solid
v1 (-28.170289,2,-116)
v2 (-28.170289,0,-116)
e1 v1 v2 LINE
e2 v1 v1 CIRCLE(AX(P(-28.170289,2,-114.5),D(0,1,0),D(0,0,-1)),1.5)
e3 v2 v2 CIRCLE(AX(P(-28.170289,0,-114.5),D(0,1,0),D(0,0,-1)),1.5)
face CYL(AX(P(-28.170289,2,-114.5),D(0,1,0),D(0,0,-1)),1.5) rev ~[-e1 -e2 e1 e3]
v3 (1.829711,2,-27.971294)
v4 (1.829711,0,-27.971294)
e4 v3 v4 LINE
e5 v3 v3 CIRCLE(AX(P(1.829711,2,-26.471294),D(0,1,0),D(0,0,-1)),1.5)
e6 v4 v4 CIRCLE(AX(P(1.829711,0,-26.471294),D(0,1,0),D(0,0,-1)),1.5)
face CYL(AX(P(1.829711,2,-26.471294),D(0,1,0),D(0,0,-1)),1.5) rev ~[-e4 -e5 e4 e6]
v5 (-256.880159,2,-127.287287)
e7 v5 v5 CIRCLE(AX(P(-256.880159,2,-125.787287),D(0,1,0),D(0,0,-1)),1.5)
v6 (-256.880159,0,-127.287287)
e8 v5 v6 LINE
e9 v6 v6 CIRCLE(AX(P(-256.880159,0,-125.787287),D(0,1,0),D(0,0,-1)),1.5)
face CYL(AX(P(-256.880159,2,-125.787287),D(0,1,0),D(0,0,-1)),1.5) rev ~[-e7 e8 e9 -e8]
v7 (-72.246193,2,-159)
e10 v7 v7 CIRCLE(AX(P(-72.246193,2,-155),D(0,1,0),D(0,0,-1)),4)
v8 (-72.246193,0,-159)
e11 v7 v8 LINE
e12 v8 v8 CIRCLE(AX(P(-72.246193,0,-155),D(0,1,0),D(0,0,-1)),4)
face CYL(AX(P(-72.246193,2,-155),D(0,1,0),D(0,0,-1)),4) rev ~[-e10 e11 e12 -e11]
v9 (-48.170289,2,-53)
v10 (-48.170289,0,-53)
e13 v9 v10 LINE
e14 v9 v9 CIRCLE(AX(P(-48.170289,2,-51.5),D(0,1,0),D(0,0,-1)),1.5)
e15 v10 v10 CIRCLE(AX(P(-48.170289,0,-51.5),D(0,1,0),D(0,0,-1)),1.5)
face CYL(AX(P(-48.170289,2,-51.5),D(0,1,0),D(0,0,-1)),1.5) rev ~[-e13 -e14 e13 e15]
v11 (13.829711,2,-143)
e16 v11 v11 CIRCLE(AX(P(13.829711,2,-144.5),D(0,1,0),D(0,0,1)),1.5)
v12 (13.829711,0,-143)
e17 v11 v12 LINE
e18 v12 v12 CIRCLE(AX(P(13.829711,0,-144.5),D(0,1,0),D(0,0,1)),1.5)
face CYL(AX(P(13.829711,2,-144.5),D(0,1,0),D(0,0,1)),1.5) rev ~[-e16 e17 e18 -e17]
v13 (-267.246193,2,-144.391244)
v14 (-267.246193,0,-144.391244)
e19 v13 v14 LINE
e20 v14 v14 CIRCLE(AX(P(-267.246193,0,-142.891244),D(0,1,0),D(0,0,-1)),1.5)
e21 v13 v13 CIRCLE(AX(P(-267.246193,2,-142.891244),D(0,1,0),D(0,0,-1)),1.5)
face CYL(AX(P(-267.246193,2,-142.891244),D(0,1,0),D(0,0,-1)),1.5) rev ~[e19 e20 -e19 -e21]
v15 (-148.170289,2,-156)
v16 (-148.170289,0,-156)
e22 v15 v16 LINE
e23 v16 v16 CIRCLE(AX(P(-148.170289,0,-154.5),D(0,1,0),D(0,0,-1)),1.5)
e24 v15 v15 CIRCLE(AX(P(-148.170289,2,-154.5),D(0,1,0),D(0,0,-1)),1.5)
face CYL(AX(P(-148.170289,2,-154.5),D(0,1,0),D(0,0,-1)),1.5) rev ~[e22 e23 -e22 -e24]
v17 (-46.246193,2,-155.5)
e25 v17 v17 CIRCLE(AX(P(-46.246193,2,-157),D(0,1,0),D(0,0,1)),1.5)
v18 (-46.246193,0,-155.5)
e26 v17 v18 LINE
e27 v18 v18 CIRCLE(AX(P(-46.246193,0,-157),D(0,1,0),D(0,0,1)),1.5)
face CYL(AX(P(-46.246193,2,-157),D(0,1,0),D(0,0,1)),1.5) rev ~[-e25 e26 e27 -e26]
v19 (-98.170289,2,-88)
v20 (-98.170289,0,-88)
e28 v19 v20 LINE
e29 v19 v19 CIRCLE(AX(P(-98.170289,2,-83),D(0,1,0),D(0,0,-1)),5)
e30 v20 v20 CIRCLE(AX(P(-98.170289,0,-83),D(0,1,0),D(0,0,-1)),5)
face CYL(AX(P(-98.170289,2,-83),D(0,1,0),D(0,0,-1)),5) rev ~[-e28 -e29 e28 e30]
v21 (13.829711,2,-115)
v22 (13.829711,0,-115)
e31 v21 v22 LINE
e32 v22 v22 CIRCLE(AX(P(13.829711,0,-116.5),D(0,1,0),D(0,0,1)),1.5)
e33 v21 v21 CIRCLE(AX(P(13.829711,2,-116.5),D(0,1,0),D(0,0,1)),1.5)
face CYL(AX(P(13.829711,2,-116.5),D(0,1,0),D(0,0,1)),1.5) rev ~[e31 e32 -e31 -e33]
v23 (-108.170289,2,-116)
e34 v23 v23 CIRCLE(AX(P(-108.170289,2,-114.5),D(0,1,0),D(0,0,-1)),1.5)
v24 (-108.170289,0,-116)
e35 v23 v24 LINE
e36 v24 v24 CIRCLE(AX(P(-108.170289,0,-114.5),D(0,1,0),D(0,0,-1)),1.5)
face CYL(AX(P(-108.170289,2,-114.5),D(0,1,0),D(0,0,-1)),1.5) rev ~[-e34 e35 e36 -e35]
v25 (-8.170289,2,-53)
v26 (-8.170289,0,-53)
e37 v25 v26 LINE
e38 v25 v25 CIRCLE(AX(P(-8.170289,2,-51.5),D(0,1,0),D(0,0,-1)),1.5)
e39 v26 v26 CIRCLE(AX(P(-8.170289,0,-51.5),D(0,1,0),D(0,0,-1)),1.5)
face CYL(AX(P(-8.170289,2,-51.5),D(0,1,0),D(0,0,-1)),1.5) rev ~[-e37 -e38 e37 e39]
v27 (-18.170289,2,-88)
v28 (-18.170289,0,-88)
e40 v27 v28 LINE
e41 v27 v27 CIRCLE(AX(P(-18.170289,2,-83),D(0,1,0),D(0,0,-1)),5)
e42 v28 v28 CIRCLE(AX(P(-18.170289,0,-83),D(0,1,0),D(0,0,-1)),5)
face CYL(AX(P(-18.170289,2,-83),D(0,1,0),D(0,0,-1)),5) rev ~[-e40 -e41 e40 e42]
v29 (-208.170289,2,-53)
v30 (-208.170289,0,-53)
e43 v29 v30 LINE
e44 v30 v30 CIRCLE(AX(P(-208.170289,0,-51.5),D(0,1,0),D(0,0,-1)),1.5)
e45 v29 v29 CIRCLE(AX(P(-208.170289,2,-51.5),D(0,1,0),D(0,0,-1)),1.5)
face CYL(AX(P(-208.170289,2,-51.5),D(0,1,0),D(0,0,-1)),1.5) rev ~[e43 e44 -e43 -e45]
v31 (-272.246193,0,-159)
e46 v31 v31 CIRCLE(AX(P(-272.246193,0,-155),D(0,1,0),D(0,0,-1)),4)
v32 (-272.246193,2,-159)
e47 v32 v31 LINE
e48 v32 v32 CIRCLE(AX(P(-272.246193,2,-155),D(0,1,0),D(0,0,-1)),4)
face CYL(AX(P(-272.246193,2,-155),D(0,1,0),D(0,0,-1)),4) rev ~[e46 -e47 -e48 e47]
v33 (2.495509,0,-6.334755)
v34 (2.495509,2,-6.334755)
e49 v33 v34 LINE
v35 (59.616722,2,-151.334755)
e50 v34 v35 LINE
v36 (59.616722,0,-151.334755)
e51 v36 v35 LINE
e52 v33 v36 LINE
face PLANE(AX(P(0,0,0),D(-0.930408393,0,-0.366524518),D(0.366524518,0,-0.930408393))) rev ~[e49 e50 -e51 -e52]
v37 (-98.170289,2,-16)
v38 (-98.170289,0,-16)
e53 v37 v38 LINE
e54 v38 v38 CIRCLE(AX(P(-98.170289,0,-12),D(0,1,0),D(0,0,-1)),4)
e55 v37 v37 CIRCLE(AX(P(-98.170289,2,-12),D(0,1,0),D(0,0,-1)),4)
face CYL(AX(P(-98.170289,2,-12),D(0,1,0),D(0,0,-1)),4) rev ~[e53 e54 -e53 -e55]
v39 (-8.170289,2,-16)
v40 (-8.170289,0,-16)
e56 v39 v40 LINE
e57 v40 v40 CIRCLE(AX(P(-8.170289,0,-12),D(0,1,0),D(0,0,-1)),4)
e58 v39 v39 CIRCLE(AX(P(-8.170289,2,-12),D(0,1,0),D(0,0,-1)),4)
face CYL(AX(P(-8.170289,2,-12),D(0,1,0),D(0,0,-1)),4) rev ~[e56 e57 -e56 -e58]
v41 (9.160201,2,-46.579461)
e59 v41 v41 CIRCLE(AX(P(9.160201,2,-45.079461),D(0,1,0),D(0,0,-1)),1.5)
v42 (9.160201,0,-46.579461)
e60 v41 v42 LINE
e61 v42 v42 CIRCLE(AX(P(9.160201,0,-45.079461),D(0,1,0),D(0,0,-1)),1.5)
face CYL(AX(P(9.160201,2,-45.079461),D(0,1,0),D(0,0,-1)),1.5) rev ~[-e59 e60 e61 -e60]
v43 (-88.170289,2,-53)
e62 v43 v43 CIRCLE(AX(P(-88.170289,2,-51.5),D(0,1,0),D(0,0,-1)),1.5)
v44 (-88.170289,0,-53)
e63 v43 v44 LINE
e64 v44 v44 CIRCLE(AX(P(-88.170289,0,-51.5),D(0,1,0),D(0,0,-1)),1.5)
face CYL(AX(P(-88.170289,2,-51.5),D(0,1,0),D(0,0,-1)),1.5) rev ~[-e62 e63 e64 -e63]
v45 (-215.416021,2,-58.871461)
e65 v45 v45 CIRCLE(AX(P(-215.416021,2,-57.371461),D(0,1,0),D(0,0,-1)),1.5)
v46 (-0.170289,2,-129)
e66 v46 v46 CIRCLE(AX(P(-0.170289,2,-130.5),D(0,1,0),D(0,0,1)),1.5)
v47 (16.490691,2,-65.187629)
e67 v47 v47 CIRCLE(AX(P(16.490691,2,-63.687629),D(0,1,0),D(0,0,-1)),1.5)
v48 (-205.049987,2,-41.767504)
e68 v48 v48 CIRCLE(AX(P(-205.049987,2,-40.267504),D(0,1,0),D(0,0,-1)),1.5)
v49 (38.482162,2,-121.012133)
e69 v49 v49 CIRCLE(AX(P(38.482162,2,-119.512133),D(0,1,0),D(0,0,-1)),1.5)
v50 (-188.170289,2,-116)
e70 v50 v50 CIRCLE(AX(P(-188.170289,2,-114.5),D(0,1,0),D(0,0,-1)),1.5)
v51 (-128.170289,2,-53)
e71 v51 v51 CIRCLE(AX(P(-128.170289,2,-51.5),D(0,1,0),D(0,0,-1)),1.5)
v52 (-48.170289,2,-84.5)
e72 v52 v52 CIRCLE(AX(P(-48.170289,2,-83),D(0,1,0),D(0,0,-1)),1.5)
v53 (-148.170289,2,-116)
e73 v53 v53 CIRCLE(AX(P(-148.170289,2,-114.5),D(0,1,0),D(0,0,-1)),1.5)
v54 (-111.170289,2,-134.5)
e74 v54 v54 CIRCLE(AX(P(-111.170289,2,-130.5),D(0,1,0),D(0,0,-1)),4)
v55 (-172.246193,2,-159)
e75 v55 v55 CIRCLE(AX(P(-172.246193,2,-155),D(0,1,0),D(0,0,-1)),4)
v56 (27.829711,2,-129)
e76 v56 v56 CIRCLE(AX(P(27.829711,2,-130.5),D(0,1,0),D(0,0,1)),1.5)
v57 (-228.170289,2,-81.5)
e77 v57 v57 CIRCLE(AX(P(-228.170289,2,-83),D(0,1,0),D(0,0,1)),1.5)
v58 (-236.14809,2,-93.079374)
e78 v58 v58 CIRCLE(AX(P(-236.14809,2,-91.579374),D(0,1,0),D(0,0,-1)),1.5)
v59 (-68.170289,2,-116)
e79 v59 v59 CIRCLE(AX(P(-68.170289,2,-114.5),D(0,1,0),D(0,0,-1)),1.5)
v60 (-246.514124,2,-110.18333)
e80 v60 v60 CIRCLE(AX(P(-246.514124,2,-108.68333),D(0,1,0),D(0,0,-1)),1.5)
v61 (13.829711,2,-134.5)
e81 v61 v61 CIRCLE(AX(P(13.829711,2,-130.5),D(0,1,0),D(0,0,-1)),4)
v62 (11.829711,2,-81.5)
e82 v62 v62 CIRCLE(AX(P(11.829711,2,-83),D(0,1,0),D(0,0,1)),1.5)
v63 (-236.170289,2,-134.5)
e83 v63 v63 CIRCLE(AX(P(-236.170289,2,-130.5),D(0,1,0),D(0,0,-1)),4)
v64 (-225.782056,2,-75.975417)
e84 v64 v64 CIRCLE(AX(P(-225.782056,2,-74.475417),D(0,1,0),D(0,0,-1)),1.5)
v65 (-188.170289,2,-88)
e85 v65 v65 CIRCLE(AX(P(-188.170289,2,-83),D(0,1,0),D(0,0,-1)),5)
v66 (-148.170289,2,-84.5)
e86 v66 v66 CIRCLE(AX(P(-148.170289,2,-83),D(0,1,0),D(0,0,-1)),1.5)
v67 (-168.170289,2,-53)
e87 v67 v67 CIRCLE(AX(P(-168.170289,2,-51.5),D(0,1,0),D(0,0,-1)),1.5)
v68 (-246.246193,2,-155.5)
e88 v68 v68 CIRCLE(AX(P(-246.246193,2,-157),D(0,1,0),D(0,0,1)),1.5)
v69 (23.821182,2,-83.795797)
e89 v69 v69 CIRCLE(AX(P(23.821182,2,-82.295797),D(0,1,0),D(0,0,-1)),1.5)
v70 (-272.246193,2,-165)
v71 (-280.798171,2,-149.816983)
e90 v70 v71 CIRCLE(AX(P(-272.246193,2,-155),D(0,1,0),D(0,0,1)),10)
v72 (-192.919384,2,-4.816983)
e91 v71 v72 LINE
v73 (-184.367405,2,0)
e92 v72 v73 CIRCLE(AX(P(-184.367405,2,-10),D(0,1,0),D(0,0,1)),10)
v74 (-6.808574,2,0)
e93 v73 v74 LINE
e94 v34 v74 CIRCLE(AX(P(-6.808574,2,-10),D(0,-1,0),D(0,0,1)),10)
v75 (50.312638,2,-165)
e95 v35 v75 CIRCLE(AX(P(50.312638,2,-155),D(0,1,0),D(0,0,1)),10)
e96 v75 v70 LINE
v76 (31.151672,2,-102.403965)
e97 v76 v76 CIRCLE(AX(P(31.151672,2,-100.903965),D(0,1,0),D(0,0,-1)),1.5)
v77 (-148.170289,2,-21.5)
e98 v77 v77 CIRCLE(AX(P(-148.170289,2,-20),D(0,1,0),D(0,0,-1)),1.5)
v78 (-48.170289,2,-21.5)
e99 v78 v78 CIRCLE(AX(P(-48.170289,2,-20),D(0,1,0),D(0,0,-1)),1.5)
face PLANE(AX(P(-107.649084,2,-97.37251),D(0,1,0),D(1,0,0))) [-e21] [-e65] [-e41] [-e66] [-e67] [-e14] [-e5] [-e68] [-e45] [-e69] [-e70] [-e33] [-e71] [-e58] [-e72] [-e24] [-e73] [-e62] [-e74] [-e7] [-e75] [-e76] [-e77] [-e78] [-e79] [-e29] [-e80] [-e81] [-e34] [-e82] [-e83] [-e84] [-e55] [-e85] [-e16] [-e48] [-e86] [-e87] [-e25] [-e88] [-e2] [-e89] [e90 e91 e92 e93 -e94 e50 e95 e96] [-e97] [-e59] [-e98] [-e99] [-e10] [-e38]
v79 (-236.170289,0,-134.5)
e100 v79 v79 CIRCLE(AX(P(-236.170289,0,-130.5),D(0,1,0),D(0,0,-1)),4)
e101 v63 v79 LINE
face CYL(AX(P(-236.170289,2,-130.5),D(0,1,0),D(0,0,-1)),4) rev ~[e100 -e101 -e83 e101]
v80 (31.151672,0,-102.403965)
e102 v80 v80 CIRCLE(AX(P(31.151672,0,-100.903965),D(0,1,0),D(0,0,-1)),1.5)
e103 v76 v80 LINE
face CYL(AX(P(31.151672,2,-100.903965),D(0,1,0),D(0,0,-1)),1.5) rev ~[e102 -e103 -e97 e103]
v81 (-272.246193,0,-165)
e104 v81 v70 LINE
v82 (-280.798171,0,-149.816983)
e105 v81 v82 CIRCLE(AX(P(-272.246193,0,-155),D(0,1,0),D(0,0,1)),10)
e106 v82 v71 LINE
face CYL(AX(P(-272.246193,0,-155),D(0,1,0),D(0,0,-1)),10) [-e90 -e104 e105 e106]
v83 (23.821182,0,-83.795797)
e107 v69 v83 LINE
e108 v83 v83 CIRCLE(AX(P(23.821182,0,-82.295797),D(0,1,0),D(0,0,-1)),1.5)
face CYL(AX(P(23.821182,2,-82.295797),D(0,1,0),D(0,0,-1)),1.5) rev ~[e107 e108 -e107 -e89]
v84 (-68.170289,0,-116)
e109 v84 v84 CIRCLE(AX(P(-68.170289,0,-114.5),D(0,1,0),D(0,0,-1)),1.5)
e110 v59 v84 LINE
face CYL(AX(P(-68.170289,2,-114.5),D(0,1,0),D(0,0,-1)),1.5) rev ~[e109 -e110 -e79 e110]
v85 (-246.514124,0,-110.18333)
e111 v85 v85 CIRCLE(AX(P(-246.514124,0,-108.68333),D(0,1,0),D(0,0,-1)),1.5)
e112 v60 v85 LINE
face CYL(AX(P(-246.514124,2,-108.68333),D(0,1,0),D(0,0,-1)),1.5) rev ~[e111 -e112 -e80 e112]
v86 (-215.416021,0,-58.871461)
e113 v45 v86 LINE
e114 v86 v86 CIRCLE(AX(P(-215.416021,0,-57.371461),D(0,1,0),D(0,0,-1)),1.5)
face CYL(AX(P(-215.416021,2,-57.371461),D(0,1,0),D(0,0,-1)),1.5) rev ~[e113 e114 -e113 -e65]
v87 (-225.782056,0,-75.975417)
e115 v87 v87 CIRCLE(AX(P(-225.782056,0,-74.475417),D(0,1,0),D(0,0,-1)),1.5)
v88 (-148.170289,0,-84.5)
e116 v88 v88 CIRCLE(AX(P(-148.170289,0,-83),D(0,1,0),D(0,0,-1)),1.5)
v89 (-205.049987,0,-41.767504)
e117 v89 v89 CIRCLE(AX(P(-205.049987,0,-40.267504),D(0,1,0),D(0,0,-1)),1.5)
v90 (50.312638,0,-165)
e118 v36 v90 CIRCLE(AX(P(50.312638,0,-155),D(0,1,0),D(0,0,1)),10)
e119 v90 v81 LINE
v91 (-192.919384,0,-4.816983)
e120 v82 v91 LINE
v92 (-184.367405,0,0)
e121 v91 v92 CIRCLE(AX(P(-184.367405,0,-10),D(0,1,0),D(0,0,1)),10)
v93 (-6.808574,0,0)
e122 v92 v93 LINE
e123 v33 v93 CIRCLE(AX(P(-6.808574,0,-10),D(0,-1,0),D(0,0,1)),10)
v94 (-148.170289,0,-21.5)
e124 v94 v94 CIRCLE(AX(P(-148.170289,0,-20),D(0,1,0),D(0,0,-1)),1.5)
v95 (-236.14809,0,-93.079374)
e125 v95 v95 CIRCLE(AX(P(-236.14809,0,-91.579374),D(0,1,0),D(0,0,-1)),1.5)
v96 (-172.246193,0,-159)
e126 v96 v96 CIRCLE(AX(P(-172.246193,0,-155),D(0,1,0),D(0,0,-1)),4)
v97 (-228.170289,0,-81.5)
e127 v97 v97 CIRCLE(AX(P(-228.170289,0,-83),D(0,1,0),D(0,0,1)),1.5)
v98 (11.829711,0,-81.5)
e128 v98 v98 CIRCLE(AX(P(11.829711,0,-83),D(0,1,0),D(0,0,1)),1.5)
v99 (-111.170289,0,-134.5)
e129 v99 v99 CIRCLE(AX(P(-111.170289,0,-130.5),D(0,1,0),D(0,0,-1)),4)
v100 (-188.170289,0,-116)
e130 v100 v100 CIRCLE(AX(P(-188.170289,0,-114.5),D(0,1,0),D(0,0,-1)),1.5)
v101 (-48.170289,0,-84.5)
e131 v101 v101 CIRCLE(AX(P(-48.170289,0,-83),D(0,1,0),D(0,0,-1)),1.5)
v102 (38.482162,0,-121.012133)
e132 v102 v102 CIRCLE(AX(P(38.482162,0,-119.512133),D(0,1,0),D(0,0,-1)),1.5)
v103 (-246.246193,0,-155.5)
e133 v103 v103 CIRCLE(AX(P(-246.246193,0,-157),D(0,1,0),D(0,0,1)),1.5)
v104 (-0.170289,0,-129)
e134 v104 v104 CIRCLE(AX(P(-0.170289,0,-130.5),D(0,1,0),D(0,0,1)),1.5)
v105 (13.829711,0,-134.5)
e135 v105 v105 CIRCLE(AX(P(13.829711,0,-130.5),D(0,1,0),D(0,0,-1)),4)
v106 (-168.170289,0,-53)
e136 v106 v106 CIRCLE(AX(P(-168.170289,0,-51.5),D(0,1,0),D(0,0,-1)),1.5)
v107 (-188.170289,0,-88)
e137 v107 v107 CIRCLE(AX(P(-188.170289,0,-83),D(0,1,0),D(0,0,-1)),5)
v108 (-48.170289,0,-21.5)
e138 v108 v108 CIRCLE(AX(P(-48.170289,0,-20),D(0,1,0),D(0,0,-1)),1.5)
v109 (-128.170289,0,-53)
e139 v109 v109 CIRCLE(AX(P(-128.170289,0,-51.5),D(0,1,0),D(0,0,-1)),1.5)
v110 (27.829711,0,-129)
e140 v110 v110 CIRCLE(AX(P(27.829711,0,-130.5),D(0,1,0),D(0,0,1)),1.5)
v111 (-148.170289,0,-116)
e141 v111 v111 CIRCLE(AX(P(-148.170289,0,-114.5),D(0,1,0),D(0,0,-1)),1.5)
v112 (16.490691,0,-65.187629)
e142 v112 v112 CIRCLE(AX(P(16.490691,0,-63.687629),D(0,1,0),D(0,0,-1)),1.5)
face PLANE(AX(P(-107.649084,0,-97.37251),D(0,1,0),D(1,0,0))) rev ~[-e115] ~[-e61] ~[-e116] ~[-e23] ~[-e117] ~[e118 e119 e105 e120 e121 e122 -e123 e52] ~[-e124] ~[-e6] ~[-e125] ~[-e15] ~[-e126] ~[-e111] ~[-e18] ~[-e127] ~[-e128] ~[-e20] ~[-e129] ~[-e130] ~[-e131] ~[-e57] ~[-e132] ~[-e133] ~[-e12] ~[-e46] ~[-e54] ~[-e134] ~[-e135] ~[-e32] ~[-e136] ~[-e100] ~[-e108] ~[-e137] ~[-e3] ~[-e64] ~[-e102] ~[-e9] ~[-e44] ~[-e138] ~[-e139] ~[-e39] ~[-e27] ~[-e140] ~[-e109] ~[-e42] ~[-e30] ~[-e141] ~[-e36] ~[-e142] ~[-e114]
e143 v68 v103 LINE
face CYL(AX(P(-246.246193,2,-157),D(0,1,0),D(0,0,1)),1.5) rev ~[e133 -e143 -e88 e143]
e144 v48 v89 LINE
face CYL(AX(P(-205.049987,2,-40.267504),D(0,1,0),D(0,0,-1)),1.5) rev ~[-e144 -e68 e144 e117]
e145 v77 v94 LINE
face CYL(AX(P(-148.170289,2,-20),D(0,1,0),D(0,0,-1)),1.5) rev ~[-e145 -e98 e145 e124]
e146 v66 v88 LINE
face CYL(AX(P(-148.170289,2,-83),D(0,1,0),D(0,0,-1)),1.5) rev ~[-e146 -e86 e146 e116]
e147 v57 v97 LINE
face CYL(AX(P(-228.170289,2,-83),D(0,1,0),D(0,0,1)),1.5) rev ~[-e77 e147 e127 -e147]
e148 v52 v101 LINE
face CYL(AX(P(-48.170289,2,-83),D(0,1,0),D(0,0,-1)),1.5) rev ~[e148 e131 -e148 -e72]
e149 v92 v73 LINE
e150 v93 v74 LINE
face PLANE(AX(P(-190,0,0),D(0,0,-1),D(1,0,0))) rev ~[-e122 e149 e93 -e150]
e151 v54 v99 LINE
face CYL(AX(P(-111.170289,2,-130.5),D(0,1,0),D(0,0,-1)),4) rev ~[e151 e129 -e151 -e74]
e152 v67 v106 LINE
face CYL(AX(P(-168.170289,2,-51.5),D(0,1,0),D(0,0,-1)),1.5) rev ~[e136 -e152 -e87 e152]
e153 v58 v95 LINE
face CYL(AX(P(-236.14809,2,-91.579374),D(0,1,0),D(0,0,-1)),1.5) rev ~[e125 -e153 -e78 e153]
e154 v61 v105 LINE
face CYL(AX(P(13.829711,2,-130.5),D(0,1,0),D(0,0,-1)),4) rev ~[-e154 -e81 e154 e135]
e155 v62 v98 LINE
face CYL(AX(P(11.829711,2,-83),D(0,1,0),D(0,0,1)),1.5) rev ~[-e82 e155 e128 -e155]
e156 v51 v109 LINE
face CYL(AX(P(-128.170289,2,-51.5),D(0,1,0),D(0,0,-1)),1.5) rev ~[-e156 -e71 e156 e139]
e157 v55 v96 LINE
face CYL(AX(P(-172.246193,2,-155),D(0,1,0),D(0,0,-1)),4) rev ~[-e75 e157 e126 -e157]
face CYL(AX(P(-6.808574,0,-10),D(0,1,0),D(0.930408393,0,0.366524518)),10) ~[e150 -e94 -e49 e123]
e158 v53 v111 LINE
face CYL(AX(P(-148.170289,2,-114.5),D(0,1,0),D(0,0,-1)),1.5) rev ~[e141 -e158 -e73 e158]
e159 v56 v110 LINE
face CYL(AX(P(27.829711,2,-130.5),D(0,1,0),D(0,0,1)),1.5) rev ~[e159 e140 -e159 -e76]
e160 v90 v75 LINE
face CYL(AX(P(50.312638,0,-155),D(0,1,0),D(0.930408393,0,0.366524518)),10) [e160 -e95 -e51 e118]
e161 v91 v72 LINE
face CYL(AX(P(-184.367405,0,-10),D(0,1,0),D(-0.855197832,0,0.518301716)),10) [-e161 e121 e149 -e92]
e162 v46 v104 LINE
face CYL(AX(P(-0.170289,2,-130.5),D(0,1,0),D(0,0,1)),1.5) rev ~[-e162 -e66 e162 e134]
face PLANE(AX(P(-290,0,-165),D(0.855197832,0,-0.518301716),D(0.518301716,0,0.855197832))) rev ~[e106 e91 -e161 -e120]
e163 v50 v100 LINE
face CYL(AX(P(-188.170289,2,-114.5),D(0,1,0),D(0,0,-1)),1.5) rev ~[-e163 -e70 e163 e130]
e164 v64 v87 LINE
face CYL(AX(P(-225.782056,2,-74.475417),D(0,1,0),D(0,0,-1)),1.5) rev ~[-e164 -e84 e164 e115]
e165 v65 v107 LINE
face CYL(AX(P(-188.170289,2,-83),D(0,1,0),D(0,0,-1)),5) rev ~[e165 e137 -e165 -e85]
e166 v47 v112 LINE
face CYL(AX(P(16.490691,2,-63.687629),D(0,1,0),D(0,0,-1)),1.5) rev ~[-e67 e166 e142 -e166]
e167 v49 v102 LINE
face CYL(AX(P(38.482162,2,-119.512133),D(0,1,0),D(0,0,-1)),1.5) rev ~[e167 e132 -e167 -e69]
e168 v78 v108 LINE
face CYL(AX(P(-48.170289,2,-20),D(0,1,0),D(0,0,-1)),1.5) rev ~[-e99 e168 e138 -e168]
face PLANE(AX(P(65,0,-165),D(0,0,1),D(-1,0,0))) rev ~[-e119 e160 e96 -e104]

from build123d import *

# Parameters (mm, degrees)
BOSS_EXTRUDE1_DEPTH = 2
FILLET1_R           = 10
SKETCH3_R           = 1.5
SKETCH3_R_2         = 4
SKETCH3_R_3         = 5
CUT_EXTRUDE1_DEPTH  = 2


with BuildPart() as part:
    # Sketch2 → Boss-Extrude1 (new body)
    with BuildSketch(Plane(origin=(0, 0, 0), x_dir=(1, 0, 0), z_dir=(0, 1, 0))):
        Polygon((0, 0), (65, 165), (-290, 165), (-190, 0), align=None)
    extrude(amount=BOSS_EXTRUDE1_DEPTH)

    # Fillet1
    fillet1_edges = [part.edges().sort_by_distance(p)[0] for p in [
        (-190, 1, 0),
        (-290, 1, -165),
        (65, 1, -165),
        (0, 1, 0),
    ]]
    fillet(fillet1_edges, radius=FILLET1_R)

    # Sketch3 → Cut-Extrude1 (cut)
    with BuildSketch(Plane(origin=(0, 2, 0), x_dir=(1, 0, 0), z_dir=(0, 1, 0))):
        with Locations(Location((-228.170289346, 83, 0), (0, 0, 270))):
            Circle(SKETCH3_R)
        with Locations(Location((-246.246193102, 157, 0), (0, 0, 270))):
            Circle(SKETCH3_R)
        with Locations(Location((-46.246193102, 157, 0), (0, 0, 270))):
            Circle(SKETCH3_R)
        with Locations(Location((11.829710654, 83, 0), (0, 0, 270))):
            Circle(SKETCH3_R)
        with Locations(Location((13.829710654, 144.5, 0), (0, 0, 270))):
            Circle(SKETCH3_R)
        with Locations(Location((27.829710654, 130.5, 0), (0, 0, 270))):
            Circle(SKETCH3_R)
        with Locations(Location((13.829710654, 116.5, 0), (0, 0, 270))):
            Circle(SKETCH3_R)
        with Locations(Location((-0.170289346, 130.5, 0), (0, 0, 270))):
            Circle(SKETCH3_R)
        with Locations(Location((-272.246193102, 155, 0), (0, 0, 90))):
            Circle(SKETCH3_R_2)
        with Locations(Location((-172.246193102, 155, 0), (0, 0, 90))):
            Circle(SKETCH3_R_2)
        with Locations(Location((13.829710654, 130.5, 0), (0, 0, 90))):
            Circle(SKETCH3_R_2)
        with Locations(Location((-236.170289346, 130.5, 0), (0, 0, 90))):
            Circle(SKETCH3_R_2)
        with Locations(Location((-111.170289346, 130.5, 0), (0, 0, 90))):
            Circle(SKETCH3_R_2)
        with Locations(Location((-18.170289346, 83, 0), (0, 0, 90))):
            Circle(SKETCH3_R_3)
        with Locations(Location((-188.170289346, 83, 0), (0, 0, 90))):
            Circle(SKETCH3_R_3)
        with Locations(Location((-98.170289346, 83, 0), (0, 0, 90))):
            Circle(SKETCH3_R_3)
        with Locations(Location((-205.049987171, 40.267503937, 0), (0, 0, 90))):
            Circle(SKETCH3_R)
        with Locations(Location((-208.170289346, 51.5, 0), (0, 0, 90))):
            Circle(SKETCH3_R)
        with Locations(Location((-225.782055815, 74.475417199, 0), (0, 0, 90))):
            Circle(SKETCH3_R)
        with Locations(Location((-236.148090136, 91.57937383, 0), (0, 0, 90))):
            Circle(SKETCH3_R)
        with Locations(Location((-246.514124458, 108.683330462, 0), (0, 0, 90))):
            Circle(SKETCH3_R)
        with Locations(Location((-256.88015878, 125.787287093, 0), (0, 0, 90))):
            Circle(SKETCH3_R)
        with Locations(Location((-267.246193102, 142.891243724, 0), (0, 0, 90))):
            Circle(SKETCH3_R)
        with Locations(Location((1.829710654, 26.47129363, 0), (0, 0, 90))):
            Circle(SKETCH3_R)
        with Locations(Location((9.160201021, 45.079461487, 0), (0, 0, 90))):
            Circle(SKETCH3_R)
        with Locations(Location((16.490691389, 63.687629343, 0), (0, 0, 90))):
            Circle(SKETCH3_R)
        with Locations(Location((23.821181757, 82.295797199, 0), (0, 0, 90))):
            Circle(SKETCH3_R)
        with Locations(Location((31.151672124, 100.903965056, 0), (0, 0, 90))):
            Circle(SKETCH3_R)
        with Locations(Location((38.482162492, 119.512132912, 0), (0, 0, 90))):
            Circle(SKETCH3_R)
        with Locations(Location((-72.246193102, 155, 0), (0, 0, 90))):
            Circle(SKETCH3_R_2)
        with Locations(Location((-148.170289346, 154.5, 0), (0, 0, 90))):
            Circle(SKETCH3_R)
        with Locations(Location((-188.170289346, 114.5, 0), (0, 0, 90))):
            Circle(SKETCH3_R)
        with Locations(Location((-148.170289346, 114.5, 0), (0, 0, 90))):
            Circle(SKETCH3_R)
        with Locations(Location((-108.170289346, 114.5, 0), (0, 0, 90))):
            Circle(SKETCH3_R)
        with Locations(Location((-68.170289346, 114.5, 0), (0, 0, 90))):
            Circle(SKETCH3_R)
        with Locations(Location((-28.170289346, 114.5, 0), (0, 0, 90))):
            Circle(SKETCH3_R)
        with Locations(Location((-148.170289346, 83, 0), (0, 0, 90))):
            Circle(SKETCH3_R)
        with Locations(Location((-215.416021493, 57.371460568, 0), (0, 0, 90))):
            Circle(SKETCH3_R)
        with Locations(Location((-168.170289346, 51.5, 0), (0, 0, 90))):
            Circle(SKETCH3_R)
        with Locations(Location((-8.170289346, 51.5, 0), (0, 0, 90))):
            Circle(SKETCH3_R)
        with Locations(Location((-128.170289346, 51.5, 0), (0, 0, 90))):
            Circle(SKETCH3_R)
        with Locations(Location((-88.170289346, 51.5, 0), (0, 0, 90))):
            Circle(SKETCH3_R)
        with Locations(Location((-48.170289346, 83, 0), (0, 0, 90))):
            Circle(SKETCH3_R)
        with Locations(Location((-48.170289346, 51.5, 0), (0, 0, 90))):
            Circle(SKETCH3_R)
        with Locations(Location((-8.170289346, 12, 0), (0, 0, 90))):
            Circle(SKETCH3_R_2)
        with Locations(Location((-148.170289346, 20, 0), (0, 0, 90))):
            Circle(SKETCH3_R)
        with Locations(Location((-98.170289346, 12, 0), (0, 0, 90))):
            Circle(SKETCH3_R_2)
        with Locations(Location((-48.170289346, 20, 0), (0, 0, 90))):
            Circle(SKETCH3_R)
    extrude(amount=-CUT_EXTRUDE1_DEPTH, mode=Mode.SUBTRACT)


solid = part.part
